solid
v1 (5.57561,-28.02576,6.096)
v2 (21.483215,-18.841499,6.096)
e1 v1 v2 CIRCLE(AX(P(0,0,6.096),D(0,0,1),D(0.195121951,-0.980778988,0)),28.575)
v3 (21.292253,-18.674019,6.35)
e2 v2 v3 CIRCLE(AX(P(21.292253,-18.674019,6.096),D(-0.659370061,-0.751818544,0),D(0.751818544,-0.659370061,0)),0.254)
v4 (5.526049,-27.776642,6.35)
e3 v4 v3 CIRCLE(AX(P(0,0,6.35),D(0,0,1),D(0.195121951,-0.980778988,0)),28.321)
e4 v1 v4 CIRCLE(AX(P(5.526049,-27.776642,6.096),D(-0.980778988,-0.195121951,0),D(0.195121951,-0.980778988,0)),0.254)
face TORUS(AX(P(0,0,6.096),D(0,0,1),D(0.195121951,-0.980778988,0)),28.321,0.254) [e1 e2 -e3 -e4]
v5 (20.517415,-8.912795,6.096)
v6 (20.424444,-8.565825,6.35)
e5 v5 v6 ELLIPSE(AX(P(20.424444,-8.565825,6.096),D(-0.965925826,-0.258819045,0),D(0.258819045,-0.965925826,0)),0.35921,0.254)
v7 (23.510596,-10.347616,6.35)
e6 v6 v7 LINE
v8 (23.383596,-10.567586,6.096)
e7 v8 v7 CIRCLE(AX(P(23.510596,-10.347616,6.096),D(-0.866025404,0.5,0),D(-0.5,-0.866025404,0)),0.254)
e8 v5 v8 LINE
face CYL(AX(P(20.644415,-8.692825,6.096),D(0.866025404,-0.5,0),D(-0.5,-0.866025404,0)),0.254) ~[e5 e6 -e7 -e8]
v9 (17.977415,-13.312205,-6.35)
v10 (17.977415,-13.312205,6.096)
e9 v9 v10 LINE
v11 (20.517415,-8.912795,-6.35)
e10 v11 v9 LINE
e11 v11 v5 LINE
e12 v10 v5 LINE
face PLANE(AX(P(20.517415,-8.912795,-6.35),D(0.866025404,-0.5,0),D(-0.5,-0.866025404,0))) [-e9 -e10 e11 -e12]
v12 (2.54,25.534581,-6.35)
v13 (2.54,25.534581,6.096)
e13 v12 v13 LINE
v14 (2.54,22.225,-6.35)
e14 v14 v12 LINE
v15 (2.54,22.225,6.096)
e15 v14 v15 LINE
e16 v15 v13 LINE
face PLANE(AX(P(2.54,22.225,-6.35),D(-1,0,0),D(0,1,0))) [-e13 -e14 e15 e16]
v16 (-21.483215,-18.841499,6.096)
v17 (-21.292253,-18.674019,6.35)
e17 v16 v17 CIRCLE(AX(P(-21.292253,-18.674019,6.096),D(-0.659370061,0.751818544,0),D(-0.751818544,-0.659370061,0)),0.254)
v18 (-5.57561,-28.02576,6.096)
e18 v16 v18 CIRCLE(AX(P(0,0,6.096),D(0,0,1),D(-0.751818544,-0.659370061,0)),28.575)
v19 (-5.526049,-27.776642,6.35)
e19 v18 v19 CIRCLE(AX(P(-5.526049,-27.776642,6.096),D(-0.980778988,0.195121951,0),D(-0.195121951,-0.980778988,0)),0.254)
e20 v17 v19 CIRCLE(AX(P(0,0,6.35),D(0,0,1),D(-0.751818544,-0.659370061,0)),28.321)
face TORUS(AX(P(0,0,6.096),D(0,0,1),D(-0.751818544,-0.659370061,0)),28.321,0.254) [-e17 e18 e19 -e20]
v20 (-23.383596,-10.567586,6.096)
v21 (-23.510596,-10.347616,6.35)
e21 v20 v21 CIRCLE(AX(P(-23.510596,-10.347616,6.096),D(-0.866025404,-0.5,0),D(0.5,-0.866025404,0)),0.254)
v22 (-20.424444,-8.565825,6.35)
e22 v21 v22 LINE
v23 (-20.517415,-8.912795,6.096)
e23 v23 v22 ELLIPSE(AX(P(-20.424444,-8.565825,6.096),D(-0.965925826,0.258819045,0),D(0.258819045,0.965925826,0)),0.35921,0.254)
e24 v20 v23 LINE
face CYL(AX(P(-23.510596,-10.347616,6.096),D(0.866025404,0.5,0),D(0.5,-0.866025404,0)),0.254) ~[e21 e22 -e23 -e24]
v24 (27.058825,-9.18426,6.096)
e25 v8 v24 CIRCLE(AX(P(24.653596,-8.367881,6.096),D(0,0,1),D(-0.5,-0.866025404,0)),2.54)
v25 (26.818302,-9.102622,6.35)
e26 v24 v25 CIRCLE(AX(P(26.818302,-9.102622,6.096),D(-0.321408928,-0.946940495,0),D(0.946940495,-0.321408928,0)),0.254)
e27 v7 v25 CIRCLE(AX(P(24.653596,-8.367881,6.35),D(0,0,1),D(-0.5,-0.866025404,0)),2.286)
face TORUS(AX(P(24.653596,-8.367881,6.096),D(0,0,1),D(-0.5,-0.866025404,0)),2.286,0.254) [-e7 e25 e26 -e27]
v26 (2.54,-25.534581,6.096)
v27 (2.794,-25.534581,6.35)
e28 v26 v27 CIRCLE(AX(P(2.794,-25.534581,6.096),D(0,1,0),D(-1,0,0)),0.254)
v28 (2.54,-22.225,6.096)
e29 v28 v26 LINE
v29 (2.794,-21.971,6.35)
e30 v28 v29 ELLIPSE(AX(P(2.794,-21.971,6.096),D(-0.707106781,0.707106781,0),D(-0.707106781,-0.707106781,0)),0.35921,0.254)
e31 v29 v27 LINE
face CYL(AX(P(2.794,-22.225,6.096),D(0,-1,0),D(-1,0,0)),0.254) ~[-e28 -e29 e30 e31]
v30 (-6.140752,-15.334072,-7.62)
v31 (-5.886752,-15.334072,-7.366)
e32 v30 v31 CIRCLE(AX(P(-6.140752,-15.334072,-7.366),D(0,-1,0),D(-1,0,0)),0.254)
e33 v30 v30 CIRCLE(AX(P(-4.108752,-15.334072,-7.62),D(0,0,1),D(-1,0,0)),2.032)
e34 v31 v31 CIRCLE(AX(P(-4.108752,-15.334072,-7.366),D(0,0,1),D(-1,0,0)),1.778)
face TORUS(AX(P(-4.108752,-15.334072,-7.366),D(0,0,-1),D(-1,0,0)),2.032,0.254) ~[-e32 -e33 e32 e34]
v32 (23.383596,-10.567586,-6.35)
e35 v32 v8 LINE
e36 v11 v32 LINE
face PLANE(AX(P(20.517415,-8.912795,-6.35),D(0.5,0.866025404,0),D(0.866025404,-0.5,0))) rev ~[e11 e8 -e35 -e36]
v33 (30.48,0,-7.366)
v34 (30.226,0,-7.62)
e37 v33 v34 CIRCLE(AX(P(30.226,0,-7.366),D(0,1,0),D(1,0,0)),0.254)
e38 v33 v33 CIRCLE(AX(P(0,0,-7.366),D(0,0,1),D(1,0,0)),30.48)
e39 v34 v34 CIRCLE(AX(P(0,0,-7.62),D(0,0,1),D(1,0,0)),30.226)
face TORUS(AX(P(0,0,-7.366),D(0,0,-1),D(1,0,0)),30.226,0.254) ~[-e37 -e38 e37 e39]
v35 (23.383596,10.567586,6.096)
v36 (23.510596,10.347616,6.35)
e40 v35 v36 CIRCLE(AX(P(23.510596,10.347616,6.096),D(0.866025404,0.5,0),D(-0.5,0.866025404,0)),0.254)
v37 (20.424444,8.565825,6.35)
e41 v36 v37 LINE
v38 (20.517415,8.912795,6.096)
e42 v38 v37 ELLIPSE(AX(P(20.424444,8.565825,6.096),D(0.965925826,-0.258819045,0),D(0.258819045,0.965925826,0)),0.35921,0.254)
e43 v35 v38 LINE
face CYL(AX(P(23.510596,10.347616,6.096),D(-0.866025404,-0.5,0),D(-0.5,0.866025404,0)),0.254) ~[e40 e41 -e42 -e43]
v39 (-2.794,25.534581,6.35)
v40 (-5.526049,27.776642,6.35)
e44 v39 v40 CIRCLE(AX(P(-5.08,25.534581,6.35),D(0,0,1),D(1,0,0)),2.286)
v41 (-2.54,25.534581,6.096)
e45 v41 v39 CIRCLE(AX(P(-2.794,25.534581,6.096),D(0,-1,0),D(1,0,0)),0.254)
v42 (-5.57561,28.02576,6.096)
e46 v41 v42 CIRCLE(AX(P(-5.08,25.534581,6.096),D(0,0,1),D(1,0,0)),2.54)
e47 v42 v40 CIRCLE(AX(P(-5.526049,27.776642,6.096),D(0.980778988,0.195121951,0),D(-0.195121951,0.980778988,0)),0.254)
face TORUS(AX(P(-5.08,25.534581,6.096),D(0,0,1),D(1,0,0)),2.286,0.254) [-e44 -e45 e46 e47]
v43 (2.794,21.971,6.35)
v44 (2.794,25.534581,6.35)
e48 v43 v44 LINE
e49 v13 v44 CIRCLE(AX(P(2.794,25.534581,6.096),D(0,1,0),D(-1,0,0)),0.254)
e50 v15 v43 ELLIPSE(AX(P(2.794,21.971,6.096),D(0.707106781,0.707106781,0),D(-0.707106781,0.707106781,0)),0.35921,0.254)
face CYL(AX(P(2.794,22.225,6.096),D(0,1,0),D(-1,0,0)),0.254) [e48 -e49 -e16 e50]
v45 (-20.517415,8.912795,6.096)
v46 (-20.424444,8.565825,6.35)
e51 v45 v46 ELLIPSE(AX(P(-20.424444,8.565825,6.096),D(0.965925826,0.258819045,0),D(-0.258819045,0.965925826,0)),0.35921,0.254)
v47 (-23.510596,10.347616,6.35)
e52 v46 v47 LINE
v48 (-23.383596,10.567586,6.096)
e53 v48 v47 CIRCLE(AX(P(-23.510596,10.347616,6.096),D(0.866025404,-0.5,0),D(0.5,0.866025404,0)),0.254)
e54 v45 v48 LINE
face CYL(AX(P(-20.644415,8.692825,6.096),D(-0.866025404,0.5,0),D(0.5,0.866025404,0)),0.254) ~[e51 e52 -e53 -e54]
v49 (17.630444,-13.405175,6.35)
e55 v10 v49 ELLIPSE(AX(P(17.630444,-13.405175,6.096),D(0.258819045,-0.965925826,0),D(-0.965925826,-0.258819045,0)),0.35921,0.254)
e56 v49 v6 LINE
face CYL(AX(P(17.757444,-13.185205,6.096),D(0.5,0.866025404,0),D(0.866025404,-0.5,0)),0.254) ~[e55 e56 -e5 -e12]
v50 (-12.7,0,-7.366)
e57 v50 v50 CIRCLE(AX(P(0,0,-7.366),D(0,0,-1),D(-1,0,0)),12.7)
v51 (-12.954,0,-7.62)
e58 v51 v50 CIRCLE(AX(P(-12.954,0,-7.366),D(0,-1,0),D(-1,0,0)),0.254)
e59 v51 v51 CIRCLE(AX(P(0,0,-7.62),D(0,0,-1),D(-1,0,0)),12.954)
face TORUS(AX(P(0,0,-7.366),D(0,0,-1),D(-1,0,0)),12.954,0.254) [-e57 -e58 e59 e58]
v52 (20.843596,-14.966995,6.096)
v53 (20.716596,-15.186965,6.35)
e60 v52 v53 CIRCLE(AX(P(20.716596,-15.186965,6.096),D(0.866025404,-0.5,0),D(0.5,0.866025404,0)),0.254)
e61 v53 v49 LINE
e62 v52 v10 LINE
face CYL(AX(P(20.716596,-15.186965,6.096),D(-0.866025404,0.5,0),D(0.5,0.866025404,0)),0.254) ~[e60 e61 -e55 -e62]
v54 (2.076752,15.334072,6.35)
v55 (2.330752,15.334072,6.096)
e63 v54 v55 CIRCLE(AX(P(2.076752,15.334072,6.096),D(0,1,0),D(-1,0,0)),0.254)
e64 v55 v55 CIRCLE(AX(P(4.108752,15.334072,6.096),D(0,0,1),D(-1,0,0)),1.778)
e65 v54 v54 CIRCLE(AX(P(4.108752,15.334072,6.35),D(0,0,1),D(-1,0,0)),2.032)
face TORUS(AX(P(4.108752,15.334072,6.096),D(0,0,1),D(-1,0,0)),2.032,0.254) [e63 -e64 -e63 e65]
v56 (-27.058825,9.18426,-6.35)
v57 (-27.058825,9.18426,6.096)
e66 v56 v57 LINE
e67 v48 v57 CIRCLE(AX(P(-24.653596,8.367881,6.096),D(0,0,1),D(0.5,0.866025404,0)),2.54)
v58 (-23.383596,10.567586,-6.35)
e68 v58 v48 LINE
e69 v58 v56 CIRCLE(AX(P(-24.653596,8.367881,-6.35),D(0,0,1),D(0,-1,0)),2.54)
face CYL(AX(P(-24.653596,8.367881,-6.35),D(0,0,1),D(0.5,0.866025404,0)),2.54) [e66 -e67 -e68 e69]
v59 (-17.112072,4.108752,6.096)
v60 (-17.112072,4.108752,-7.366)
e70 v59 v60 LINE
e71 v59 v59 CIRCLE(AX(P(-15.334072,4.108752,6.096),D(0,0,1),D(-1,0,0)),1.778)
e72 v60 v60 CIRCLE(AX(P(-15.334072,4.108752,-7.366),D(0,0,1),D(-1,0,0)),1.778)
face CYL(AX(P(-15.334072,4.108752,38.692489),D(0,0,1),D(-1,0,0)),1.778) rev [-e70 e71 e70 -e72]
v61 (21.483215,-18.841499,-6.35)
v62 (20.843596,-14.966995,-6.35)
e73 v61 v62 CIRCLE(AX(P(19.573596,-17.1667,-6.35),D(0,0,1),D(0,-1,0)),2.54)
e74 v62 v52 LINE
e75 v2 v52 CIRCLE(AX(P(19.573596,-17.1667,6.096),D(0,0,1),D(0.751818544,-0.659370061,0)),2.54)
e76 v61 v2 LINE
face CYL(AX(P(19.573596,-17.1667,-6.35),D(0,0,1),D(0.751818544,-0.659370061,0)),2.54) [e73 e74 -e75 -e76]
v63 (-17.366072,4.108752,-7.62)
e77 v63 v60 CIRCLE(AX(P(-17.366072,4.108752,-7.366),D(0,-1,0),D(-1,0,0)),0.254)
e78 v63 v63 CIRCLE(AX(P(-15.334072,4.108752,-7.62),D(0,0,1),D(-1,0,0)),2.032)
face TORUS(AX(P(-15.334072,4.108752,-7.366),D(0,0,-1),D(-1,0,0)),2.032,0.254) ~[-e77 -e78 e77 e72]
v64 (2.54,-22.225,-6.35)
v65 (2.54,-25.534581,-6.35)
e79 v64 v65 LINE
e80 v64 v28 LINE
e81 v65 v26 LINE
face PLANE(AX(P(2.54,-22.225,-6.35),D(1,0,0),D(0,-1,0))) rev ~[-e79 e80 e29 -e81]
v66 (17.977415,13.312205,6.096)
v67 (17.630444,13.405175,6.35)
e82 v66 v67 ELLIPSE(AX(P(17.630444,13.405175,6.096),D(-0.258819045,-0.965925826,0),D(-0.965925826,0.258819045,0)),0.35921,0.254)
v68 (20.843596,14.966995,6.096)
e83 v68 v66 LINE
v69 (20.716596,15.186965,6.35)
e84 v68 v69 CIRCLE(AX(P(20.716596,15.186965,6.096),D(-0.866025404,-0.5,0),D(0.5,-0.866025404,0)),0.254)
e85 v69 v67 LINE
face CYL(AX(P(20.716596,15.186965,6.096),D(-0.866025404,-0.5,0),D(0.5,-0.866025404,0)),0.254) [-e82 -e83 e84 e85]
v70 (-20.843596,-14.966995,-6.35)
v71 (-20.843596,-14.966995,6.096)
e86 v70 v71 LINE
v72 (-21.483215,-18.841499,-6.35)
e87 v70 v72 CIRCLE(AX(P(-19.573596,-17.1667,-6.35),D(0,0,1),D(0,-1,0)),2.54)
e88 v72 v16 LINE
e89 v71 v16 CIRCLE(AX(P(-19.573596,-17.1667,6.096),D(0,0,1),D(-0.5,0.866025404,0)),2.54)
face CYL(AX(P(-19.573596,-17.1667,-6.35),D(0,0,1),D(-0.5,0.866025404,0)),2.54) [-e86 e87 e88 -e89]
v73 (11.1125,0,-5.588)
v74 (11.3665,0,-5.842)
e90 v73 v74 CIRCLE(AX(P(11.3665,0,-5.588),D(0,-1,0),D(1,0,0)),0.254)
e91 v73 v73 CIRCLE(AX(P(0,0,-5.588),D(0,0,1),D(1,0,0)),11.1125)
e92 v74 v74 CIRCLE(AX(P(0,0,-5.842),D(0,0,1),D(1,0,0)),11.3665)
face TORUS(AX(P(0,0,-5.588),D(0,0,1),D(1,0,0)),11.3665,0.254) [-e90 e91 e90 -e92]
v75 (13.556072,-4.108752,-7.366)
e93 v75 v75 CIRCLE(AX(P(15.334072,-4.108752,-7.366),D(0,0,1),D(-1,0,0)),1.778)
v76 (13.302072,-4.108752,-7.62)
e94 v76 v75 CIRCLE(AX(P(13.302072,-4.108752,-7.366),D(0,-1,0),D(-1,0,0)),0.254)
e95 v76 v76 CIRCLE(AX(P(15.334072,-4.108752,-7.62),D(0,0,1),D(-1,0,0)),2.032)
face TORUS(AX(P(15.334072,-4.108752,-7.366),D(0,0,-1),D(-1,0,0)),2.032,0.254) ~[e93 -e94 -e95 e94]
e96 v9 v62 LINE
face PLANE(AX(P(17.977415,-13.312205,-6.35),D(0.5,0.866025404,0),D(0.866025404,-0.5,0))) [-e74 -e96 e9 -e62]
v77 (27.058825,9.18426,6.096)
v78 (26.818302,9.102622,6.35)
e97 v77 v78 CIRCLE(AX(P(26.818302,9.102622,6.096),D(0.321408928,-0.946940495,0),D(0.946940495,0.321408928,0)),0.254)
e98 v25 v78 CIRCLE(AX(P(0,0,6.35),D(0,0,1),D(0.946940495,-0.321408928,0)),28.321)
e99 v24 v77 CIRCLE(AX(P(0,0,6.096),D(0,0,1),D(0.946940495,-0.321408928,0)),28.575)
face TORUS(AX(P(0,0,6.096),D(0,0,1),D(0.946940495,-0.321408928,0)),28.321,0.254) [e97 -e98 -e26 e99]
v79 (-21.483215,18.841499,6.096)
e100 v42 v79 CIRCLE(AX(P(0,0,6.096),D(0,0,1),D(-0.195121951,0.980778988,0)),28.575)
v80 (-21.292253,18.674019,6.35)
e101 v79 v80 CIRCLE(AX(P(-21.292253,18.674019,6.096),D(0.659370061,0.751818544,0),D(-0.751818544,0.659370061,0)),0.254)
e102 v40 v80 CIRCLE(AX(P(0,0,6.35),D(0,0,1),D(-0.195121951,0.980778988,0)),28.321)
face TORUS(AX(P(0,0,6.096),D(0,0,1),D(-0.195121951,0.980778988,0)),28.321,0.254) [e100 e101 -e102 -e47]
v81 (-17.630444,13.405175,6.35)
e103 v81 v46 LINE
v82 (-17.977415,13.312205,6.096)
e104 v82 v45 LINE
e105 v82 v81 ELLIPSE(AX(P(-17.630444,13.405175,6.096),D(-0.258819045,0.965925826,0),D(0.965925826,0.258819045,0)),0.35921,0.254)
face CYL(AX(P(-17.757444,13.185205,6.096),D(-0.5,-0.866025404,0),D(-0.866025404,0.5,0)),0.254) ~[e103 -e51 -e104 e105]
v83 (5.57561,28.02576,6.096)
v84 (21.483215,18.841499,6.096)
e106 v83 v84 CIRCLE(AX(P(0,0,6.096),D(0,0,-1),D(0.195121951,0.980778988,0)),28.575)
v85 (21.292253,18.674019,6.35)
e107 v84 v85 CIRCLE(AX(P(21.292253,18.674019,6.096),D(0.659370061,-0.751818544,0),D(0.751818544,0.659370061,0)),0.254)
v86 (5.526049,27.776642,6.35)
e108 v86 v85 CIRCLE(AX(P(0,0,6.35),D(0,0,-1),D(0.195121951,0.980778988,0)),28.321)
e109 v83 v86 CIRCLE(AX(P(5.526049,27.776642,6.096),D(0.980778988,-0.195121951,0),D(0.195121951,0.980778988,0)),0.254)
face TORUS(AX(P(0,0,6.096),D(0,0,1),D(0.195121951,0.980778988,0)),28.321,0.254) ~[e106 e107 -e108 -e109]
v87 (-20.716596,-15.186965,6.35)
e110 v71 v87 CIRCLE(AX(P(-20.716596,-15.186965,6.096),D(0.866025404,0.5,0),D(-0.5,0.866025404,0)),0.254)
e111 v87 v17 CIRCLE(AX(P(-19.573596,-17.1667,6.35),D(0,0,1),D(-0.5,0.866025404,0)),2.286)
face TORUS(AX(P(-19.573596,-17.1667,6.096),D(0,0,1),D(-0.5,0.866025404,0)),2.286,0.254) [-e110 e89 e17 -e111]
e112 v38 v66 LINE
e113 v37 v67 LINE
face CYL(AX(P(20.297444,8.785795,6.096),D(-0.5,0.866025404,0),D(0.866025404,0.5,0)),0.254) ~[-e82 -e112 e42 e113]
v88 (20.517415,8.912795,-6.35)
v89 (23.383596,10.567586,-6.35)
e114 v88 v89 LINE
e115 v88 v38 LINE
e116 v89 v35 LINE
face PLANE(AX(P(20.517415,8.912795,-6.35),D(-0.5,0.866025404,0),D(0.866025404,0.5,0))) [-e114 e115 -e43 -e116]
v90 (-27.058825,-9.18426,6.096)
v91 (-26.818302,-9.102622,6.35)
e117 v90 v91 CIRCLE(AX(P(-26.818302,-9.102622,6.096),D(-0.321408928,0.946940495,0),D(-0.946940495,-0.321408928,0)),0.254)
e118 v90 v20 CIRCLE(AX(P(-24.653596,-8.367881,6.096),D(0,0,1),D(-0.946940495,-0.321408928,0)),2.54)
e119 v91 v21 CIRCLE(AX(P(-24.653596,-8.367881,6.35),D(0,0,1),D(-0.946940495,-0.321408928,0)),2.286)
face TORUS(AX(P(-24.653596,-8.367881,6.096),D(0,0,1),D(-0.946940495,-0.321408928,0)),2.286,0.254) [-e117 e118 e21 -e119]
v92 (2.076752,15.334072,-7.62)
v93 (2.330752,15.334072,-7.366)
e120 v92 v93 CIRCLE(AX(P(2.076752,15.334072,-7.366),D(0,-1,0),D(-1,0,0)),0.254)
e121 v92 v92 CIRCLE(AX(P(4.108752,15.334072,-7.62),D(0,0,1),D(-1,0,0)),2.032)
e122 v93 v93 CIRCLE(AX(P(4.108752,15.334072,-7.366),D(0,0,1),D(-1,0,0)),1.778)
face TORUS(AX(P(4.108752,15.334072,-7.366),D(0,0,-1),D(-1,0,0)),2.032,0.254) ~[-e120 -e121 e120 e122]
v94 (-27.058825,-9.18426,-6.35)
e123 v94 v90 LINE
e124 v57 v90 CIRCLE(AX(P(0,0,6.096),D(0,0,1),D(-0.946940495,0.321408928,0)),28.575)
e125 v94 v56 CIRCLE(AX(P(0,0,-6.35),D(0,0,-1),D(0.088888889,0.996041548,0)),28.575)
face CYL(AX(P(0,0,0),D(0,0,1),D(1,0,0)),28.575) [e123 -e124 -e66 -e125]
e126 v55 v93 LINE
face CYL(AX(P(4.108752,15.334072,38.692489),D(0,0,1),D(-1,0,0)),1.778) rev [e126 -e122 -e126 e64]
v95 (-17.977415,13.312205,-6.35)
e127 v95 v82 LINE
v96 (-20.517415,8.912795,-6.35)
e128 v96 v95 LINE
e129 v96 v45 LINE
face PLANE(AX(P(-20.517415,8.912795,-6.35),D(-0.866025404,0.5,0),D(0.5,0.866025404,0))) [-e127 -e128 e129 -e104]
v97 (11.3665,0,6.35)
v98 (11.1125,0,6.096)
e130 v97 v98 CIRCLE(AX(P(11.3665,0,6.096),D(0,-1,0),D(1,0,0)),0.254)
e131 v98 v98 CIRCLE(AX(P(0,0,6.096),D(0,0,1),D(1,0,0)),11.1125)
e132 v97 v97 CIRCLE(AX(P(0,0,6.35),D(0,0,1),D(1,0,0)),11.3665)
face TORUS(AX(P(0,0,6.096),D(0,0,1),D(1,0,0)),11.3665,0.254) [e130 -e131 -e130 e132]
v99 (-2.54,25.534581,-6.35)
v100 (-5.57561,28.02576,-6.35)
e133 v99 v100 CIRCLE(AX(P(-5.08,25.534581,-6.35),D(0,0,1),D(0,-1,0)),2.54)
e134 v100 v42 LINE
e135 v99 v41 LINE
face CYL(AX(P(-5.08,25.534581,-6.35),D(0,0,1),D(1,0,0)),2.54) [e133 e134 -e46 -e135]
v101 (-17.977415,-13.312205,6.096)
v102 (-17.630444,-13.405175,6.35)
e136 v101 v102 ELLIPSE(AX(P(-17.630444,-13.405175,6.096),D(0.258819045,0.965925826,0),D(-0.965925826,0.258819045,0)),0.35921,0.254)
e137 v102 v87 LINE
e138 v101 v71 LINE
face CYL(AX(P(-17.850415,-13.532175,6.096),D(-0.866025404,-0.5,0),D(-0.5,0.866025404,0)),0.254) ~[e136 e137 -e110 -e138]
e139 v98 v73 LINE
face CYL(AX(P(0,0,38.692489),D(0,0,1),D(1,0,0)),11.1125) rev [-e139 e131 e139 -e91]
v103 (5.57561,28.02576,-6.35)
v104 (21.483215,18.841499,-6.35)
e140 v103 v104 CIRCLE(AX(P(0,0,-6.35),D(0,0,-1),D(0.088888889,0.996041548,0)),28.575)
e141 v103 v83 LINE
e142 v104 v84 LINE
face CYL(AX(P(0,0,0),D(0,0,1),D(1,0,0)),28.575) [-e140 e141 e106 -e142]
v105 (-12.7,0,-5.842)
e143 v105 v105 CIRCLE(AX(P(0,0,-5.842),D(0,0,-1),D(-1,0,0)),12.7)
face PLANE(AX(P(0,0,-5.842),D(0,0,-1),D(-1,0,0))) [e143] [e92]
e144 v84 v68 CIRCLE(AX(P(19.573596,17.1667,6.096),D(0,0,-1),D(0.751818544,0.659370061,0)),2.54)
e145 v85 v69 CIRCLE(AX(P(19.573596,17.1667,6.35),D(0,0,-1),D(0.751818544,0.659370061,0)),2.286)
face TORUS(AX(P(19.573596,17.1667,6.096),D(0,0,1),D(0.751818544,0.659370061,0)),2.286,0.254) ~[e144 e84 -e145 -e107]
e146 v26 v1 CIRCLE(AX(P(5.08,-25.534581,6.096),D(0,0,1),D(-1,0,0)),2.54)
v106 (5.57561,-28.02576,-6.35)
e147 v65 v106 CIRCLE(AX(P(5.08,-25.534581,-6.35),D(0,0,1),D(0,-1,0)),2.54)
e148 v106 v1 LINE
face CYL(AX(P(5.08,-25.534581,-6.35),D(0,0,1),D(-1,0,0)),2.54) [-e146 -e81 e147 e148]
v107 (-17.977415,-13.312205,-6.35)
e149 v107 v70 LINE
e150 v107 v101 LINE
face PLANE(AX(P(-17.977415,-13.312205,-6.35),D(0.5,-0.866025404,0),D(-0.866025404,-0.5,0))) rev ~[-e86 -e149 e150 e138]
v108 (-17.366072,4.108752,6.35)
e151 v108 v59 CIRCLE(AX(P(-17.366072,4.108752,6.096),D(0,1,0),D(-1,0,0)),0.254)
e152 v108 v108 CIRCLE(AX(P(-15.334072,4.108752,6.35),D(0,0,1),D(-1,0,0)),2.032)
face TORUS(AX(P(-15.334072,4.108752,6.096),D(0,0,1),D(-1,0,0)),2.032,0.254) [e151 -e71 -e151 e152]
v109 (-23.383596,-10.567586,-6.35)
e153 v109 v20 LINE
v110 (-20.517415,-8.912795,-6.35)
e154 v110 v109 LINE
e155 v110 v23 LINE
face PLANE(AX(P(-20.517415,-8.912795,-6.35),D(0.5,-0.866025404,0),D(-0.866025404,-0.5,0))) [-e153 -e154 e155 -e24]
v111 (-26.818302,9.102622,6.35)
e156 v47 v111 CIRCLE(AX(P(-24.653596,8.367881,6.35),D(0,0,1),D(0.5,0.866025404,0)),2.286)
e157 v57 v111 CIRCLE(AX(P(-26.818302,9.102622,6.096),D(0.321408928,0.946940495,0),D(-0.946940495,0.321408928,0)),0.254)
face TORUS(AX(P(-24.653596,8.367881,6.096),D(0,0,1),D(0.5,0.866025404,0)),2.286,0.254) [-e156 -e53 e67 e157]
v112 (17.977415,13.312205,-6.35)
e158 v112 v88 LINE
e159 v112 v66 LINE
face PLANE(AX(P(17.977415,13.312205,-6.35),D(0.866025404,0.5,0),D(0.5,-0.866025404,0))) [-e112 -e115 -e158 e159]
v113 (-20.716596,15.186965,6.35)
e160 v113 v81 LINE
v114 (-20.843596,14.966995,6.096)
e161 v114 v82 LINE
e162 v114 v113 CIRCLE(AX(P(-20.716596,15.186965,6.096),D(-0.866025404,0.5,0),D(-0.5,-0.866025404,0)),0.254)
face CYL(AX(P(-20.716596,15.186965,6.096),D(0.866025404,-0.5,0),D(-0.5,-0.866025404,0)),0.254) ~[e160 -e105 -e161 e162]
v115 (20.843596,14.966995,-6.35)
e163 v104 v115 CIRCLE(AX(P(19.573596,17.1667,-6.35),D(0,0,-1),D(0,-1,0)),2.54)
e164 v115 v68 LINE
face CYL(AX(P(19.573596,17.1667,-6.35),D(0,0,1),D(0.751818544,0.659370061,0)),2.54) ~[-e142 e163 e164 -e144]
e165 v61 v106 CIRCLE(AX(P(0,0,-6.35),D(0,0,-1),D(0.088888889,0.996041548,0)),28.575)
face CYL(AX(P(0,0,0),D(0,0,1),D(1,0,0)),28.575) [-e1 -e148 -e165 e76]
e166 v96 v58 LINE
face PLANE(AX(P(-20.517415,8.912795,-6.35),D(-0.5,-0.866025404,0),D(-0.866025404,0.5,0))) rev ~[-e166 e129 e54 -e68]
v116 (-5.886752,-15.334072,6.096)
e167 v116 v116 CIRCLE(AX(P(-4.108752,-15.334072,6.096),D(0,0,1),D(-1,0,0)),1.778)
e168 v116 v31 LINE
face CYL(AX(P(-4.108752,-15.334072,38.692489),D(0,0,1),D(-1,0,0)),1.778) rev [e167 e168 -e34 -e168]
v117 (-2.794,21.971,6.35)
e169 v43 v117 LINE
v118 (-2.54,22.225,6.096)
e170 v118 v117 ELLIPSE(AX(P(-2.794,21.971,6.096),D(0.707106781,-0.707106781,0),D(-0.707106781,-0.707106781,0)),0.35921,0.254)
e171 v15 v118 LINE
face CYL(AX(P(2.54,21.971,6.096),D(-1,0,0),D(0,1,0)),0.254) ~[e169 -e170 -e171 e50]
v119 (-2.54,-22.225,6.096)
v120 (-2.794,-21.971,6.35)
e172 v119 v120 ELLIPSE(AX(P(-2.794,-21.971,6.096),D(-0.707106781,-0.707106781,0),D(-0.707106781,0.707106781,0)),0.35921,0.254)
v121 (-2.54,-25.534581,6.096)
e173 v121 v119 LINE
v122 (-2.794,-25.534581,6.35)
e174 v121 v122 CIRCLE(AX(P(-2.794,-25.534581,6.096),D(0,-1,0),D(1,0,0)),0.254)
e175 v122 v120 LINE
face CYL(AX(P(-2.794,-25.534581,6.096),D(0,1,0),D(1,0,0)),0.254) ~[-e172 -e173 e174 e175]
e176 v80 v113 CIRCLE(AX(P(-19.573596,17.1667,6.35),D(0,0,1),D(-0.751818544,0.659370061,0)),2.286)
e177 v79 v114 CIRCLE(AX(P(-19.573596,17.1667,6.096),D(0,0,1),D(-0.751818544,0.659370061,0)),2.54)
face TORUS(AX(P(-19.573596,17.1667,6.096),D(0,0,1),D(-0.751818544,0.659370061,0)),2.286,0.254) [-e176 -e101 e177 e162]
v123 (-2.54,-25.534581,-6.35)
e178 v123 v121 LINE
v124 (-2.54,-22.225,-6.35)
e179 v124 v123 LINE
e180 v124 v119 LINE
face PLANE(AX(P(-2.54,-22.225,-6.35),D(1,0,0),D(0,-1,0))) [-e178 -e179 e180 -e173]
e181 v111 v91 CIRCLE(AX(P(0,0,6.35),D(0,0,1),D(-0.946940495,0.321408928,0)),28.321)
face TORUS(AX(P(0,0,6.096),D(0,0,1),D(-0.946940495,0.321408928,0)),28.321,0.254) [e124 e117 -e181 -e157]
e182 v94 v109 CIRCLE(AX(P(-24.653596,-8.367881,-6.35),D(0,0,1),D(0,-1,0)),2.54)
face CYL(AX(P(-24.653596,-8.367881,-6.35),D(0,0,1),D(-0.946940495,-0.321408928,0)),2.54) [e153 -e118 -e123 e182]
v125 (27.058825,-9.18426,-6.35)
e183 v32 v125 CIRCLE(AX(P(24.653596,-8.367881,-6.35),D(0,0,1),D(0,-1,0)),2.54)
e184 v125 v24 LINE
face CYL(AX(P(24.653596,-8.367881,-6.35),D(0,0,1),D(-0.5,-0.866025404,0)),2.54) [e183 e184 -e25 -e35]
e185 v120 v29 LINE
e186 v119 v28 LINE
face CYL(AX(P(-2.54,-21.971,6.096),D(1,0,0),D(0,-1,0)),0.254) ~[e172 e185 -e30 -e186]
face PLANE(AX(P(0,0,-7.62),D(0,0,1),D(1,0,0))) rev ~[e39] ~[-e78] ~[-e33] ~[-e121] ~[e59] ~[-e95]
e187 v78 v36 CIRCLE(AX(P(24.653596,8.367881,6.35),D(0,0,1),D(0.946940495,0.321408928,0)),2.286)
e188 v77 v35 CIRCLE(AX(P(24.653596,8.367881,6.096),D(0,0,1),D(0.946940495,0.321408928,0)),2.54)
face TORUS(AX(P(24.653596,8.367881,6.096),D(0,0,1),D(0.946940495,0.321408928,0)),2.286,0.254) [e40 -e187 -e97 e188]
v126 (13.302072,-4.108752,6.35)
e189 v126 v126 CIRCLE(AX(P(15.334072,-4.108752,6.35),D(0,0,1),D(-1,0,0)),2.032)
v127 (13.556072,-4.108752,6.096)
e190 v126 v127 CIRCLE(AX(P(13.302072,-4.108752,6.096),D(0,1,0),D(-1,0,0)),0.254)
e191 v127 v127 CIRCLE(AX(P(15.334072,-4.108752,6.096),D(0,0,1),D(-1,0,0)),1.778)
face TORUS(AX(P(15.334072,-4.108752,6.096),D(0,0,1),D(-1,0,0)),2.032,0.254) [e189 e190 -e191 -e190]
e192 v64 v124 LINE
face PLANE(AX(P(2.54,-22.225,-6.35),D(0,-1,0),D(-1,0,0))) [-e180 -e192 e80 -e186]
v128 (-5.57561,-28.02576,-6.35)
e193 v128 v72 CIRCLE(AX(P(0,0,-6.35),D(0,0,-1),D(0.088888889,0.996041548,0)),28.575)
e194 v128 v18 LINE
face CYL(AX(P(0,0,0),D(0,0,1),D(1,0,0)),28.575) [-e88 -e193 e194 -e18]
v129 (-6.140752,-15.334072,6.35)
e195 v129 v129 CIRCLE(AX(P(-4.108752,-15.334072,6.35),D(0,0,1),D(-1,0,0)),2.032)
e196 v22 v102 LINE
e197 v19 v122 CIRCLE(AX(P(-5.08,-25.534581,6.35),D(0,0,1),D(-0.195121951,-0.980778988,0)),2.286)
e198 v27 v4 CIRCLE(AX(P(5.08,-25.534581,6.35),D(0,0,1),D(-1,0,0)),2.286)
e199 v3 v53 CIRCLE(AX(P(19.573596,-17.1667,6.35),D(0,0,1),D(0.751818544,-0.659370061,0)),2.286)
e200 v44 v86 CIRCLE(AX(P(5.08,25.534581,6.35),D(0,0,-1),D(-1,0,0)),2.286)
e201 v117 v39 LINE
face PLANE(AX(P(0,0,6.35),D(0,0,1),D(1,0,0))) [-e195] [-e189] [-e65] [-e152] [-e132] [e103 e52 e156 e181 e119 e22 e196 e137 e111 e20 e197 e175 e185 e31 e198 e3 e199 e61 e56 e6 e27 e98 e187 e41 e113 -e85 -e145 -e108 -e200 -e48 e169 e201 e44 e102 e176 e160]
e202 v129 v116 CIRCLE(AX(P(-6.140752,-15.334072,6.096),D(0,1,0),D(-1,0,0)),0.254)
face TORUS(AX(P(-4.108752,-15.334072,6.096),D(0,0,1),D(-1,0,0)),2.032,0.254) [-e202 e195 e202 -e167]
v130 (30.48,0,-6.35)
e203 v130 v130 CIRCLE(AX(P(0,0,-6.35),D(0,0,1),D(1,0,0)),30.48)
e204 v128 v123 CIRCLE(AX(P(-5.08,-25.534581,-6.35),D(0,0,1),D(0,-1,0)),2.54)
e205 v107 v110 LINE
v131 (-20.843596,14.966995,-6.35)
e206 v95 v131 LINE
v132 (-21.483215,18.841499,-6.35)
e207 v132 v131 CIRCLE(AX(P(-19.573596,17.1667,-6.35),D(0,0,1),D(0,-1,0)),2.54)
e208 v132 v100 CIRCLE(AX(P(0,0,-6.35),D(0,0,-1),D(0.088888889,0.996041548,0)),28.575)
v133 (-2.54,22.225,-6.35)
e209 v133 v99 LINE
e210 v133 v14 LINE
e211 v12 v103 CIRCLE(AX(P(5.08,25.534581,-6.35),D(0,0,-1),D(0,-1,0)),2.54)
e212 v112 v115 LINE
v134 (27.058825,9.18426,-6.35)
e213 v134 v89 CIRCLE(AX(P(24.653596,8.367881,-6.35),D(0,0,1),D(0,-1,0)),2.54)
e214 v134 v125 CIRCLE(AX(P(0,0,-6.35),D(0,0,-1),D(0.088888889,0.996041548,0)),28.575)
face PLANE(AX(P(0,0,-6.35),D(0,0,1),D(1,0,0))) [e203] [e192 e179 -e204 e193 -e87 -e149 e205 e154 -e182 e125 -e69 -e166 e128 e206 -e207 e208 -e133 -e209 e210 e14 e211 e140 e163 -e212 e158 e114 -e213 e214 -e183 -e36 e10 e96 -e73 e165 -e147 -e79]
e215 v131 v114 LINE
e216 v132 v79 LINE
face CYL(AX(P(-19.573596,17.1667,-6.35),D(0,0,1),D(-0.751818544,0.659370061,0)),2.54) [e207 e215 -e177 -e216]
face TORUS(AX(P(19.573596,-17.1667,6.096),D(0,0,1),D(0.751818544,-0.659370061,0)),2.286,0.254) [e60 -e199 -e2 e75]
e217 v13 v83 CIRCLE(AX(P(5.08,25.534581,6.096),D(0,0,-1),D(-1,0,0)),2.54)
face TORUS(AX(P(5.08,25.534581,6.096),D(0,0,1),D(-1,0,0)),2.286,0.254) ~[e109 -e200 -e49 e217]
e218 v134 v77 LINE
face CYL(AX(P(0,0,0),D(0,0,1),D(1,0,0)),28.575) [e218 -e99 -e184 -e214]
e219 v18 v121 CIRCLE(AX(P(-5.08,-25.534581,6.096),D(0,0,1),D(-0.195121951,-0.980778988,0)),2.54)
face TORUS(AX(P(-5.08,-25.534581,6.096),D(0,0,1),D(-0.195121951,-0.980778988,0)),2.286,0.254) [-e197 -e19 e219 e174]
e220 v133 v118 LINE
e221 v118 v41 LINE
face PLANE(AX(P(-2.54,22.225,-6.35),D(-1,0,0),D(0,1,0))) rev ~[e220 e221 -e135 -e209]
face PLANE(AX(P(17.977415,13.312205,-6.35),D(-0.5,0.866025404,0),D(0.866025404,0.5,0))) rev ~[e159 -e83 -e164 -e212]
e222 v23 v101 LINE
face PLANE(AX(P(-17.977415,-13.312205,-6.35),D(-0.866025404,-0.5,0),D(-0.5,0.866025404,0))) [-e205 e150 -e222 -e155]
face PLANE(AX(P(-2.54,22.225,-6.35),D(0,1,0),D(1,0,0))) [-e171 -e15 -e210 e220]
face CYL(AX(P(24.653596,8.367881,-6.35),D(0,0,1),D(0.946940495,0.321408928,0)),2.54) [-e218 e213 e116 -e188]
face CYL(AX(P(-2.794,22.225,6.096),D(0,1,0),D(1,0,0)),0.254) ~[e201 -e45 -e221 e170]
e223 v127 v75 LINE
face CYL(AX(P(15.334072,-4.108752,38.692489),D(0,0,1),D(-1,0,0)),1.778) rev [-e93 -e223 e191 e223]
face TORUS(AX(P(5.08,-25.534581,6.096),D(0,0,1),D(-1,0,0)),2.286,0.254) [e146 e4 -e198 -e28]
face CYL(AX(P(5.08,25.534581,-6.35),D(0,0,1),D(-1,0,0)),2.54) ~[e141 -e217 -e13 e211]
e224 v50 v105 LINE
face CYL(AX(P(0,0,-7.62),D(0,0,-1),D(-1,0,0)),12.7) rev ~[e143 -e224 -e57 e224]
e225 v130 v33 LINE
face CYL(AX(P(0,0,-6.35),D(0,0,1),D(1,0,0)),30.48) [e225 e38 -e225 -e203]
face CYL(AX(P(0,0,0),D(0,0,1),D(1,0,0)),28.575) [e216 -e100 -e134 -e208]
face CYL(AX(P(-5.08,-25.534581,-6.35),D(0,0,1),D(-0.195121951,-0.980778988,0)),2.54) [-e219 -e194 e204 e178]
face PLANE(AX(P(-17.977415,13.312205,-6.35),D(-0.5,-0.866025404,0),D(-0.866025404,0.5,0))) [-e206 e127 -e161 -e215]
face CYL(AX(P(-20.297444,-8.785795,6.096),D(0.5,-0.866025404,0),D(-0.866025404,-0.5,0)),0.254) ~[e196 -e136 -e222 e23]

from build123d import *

# Parameters (mm, degrees)
SKETCH1_R                = 28.575
BOSS_EXTRUDE1_DEPTH      = 6.35
SKETCH2_R                = 30.48
BOSS_EXTRUDE2_DEPTH      = 1.27
SKETCH3_W                = 5.08
SKETCH3_H                = 7.62
CUT_EXTRUDE1_DEPTH       = 45.937187273
FILLET1_R                = 2.54
CIRPATTERN1_COUNT        = 6
FILLET1_OF_CIRPATTERN1_R = 2.54
CUT_EXTRUDE4_DEPTH       = 46.312489448
CUT_EXTRUDE4_DEPTH_BACK  = 46.312489448
SKETCH6_R                = 11.1125
CUT_EXTRUDE5_DEPTH       = 46.312489448
CUT_EXTRUDE5_DEPTH_BACK  = 46.312489448
SKETCH7_R                = 1.778
SKETCH9_R                = 12.7
CUT_EXTRUDE6_DEPTH       = 1.778
FILLET2_R                = 0.254


with BuildPart() as part:
    # Sketch1 → Boss-Extrude1 (new, symmetric)
    with BuildSketch(Plane.XY):
        Circle(SKETCH1_R)
    extrude(amount=BOSS_EXTRUDE1_DEPTH, both=True)

    # Sketch2 → Boss-Extrude2 (add)
    with BuildSketch(Plane.XY.offset(-6.35)):
        Circle(SKETCH2_R)
    extrude(amount=-BOSS_EXTRUDE2_DEPTH)

    # Sketch3 → Cut-Extrude1 (cut, through all)
    with BuildSketch(Plane.XY.offset(-6.35)):
        with Locations((0, 26.035)):
            Rectangle(SKETCH3_W, SKETCH3_H)
    cut_extrude1 = extrude(amount=CUT_EXTRUDE1_DEPTH, mode=Mode.SUBTRACT)

    # Fillet1
    fillet1_edges = [part.edges().sort_by_distance(p)[0] for p in [
        (2.54, 28.461887235, 0),
        (-2.54, 28.461887235, 0),
    ]]
    fillet(fillet1_edges, radius=FILLET1_R)

    # CirPattern1: Cut-Extrude1 ×6 about axis
    cirpattern1_axis = Axis((0, 0, 7.0485), (0, 0, -1))
    for i in range(1, CIRPATTERN1_COUNT):
        add(cut_extrude1.rotate(cirpattern1_axis, i * 360 / CIRPATTERN1_COUNT), mode=Mode.SUBTRACT)

    # Fillet1 of CirPattern1
    fillet1_of_cirpattern1_edges = [part.edges().sort_by_distance(p)[0] for p in [
        (25.918717385, 12.031239092, 0),
        (23.378717385, 16.430648143, 0),
        (23.378717385, -16.430648143, 0),
        (25.918717385, -12.031239092, 0),
        (-2.54, -28.461887235, 0),
        (2.54, -28.461887235, 0),
        (-25.918717385, -12.031239092, 0),
        (-23.378717385, -16.430648143, 0),
        (-23.378717385, 16.430648143, 0),
        (-25.918717385, 12.031239092, 0),
    ]]
    fillet(fillet1_of_cirpattern1_edges, radius=FILLET1_OF_CIRPATTERN1_R)

    # Sketch6 → Cut-Extrude4 (cut, two sides: drawn at the far end of the back side and taken through both)
    with BuildSketch(Plane(origin=(0, 0, -7.62), x_dir=(-1, 0, 0), z_dir=(0, 0, -1)).offset(-CUT_EXTRUDE4_DEPTH_BACK)):
        Circle(SKETCH6_R)
    extrude(amount=CUT_EXTRUDE4_DEPTH + CUT_EXTRUDE4_DEPTH_BACK, mode=Mode.SUBTRACT)

    # Sketch7 → Cut-Extrude5 (cut, two sides: drawn at the far end of the back side and taken through both)
    with BuildSketch(Plane(origin=(0, 0, -7.62), x_dir=(-1, 0, 0), z_dir=(0, 0, -1)).offset(-CUT_EXTRUDE5_DEPTH_BACK)):
        with Locations((-15.334072492, -4.108752341)):
            Circle(SKETCH7_R)
        with Locations((-4.108752341, 15.334072492)):
            Circle(SKETCH7_R)
        with Locations((15.334072492, 4.108752341)):
            Circle(SKETCH7_R)
        with Locations((4.108752341, -15.334072492)):
            Circle(SKETCH7_R)
    extrude(amount=CUT_EXTRUDE5_DEPTH + CUT_EXTRUDE5_DEPTH_BACK, mode=Mode.SUBTRACT)

    # Sketch9 → Cut-Extrude6 (cut)
    with BuildSketch(Plane(origin=(0, 0, -7.62), x_dir=(-1, 0, 0), z_dir=(0, 0, -1))):
        Circle(SKETCH9_R)
    extrude(amount=-CUT_EXTRUDE6_DEPTH, mode=Mode.SUBTRACT)

    # Fillet2
    fillet2_edges = [part.edges().sort_by_distance(p)[0] for p in [
        (11.1125, 0, -5.842),
        (-30.48, 0, -7.62),
        (-2.330752341, -15.334072492, -7.62),
        (-13.556072492, 4.108752341, -7.62),
        (5.886752341, 15.334072492, -7.62),
        (17.112072492, -4.108752341, -7.62),
        (12.7, 0, -7.62),
        (-3.468672718, 27.498053497, 6.35),
        (-2.54, 23.879790482, 6.35),
        (0, 22.225, 6.35),
        (2.54, 23.879790482, 6.35),
        (3.468672718, 27.498053497, 6.35),
        (14.2875, 24.746675913, 6.35),
        (22.079676524, 16.75298544, 6.35),
        (19.410505194, 14.139599767, 6.35),
        (19.247414599, 11.1125, 6.35),
        (21.950505194, 9.740190715, 6.35),
        (25.548349242, 10.745068058, 6.35),
        (28.575, 0, 6.35),
        (25.548349242, -10.745068058, 6.35),
        (21.950505194, -9.740190715, 6.35),
        (19.247414599, -11.1125, 6.35),
        (19.410505194, -14.139599767, 6.35),
        (22.079676524, -16.75298544, 6.35),
        (14.2875, -24.746675913, 6.35),
        (3.468672718, -27.498053497, 6.35),
        (2.54, -23.879790482, 6.35),
        (0, -22.225, 6.35),
        (-2.54, -23.879790482, 6.35),
        (-3.468672718, -27.498053497, 6.35),
        (-14.2875, -24.746675913, 6.35),
        (-22.079676524, -16.75298544, 6.35),
        (-19.410505194, -14.139599767, 6.35),
        (-19.247414599, -11.1125, 6.35),
        (-21.950505194, -9.740190715, 6.35),
        (-25.548349242, -10.745068058, 6.35),
        (-28.575, 0, 6.35),
        (-25.548349242, 10.745068058, 6.35),
        (-21.950505194, 9.740190715, 6.35),
        (-19.247414599, 11.1125, 6.35),
        (-19.410505194, 14.139599767, 6.35),
        (-22.079676524, 16.75298544, 6.35),
        (-14.2875, 24.746675913, 6.35),
        (11.1125, 0, 6.35),
        (-2.330752341, -15.334072492, 6.35),
        (-13.556072492, 4.108752341, 6.35),
        (5.886752341, 15.334072492, 6.35),
        (17.112072492, -4.108752341, 6.35),
    ]]
    fillet(fillet2_edges, radius=FILLET2_R)


solid = part.part
